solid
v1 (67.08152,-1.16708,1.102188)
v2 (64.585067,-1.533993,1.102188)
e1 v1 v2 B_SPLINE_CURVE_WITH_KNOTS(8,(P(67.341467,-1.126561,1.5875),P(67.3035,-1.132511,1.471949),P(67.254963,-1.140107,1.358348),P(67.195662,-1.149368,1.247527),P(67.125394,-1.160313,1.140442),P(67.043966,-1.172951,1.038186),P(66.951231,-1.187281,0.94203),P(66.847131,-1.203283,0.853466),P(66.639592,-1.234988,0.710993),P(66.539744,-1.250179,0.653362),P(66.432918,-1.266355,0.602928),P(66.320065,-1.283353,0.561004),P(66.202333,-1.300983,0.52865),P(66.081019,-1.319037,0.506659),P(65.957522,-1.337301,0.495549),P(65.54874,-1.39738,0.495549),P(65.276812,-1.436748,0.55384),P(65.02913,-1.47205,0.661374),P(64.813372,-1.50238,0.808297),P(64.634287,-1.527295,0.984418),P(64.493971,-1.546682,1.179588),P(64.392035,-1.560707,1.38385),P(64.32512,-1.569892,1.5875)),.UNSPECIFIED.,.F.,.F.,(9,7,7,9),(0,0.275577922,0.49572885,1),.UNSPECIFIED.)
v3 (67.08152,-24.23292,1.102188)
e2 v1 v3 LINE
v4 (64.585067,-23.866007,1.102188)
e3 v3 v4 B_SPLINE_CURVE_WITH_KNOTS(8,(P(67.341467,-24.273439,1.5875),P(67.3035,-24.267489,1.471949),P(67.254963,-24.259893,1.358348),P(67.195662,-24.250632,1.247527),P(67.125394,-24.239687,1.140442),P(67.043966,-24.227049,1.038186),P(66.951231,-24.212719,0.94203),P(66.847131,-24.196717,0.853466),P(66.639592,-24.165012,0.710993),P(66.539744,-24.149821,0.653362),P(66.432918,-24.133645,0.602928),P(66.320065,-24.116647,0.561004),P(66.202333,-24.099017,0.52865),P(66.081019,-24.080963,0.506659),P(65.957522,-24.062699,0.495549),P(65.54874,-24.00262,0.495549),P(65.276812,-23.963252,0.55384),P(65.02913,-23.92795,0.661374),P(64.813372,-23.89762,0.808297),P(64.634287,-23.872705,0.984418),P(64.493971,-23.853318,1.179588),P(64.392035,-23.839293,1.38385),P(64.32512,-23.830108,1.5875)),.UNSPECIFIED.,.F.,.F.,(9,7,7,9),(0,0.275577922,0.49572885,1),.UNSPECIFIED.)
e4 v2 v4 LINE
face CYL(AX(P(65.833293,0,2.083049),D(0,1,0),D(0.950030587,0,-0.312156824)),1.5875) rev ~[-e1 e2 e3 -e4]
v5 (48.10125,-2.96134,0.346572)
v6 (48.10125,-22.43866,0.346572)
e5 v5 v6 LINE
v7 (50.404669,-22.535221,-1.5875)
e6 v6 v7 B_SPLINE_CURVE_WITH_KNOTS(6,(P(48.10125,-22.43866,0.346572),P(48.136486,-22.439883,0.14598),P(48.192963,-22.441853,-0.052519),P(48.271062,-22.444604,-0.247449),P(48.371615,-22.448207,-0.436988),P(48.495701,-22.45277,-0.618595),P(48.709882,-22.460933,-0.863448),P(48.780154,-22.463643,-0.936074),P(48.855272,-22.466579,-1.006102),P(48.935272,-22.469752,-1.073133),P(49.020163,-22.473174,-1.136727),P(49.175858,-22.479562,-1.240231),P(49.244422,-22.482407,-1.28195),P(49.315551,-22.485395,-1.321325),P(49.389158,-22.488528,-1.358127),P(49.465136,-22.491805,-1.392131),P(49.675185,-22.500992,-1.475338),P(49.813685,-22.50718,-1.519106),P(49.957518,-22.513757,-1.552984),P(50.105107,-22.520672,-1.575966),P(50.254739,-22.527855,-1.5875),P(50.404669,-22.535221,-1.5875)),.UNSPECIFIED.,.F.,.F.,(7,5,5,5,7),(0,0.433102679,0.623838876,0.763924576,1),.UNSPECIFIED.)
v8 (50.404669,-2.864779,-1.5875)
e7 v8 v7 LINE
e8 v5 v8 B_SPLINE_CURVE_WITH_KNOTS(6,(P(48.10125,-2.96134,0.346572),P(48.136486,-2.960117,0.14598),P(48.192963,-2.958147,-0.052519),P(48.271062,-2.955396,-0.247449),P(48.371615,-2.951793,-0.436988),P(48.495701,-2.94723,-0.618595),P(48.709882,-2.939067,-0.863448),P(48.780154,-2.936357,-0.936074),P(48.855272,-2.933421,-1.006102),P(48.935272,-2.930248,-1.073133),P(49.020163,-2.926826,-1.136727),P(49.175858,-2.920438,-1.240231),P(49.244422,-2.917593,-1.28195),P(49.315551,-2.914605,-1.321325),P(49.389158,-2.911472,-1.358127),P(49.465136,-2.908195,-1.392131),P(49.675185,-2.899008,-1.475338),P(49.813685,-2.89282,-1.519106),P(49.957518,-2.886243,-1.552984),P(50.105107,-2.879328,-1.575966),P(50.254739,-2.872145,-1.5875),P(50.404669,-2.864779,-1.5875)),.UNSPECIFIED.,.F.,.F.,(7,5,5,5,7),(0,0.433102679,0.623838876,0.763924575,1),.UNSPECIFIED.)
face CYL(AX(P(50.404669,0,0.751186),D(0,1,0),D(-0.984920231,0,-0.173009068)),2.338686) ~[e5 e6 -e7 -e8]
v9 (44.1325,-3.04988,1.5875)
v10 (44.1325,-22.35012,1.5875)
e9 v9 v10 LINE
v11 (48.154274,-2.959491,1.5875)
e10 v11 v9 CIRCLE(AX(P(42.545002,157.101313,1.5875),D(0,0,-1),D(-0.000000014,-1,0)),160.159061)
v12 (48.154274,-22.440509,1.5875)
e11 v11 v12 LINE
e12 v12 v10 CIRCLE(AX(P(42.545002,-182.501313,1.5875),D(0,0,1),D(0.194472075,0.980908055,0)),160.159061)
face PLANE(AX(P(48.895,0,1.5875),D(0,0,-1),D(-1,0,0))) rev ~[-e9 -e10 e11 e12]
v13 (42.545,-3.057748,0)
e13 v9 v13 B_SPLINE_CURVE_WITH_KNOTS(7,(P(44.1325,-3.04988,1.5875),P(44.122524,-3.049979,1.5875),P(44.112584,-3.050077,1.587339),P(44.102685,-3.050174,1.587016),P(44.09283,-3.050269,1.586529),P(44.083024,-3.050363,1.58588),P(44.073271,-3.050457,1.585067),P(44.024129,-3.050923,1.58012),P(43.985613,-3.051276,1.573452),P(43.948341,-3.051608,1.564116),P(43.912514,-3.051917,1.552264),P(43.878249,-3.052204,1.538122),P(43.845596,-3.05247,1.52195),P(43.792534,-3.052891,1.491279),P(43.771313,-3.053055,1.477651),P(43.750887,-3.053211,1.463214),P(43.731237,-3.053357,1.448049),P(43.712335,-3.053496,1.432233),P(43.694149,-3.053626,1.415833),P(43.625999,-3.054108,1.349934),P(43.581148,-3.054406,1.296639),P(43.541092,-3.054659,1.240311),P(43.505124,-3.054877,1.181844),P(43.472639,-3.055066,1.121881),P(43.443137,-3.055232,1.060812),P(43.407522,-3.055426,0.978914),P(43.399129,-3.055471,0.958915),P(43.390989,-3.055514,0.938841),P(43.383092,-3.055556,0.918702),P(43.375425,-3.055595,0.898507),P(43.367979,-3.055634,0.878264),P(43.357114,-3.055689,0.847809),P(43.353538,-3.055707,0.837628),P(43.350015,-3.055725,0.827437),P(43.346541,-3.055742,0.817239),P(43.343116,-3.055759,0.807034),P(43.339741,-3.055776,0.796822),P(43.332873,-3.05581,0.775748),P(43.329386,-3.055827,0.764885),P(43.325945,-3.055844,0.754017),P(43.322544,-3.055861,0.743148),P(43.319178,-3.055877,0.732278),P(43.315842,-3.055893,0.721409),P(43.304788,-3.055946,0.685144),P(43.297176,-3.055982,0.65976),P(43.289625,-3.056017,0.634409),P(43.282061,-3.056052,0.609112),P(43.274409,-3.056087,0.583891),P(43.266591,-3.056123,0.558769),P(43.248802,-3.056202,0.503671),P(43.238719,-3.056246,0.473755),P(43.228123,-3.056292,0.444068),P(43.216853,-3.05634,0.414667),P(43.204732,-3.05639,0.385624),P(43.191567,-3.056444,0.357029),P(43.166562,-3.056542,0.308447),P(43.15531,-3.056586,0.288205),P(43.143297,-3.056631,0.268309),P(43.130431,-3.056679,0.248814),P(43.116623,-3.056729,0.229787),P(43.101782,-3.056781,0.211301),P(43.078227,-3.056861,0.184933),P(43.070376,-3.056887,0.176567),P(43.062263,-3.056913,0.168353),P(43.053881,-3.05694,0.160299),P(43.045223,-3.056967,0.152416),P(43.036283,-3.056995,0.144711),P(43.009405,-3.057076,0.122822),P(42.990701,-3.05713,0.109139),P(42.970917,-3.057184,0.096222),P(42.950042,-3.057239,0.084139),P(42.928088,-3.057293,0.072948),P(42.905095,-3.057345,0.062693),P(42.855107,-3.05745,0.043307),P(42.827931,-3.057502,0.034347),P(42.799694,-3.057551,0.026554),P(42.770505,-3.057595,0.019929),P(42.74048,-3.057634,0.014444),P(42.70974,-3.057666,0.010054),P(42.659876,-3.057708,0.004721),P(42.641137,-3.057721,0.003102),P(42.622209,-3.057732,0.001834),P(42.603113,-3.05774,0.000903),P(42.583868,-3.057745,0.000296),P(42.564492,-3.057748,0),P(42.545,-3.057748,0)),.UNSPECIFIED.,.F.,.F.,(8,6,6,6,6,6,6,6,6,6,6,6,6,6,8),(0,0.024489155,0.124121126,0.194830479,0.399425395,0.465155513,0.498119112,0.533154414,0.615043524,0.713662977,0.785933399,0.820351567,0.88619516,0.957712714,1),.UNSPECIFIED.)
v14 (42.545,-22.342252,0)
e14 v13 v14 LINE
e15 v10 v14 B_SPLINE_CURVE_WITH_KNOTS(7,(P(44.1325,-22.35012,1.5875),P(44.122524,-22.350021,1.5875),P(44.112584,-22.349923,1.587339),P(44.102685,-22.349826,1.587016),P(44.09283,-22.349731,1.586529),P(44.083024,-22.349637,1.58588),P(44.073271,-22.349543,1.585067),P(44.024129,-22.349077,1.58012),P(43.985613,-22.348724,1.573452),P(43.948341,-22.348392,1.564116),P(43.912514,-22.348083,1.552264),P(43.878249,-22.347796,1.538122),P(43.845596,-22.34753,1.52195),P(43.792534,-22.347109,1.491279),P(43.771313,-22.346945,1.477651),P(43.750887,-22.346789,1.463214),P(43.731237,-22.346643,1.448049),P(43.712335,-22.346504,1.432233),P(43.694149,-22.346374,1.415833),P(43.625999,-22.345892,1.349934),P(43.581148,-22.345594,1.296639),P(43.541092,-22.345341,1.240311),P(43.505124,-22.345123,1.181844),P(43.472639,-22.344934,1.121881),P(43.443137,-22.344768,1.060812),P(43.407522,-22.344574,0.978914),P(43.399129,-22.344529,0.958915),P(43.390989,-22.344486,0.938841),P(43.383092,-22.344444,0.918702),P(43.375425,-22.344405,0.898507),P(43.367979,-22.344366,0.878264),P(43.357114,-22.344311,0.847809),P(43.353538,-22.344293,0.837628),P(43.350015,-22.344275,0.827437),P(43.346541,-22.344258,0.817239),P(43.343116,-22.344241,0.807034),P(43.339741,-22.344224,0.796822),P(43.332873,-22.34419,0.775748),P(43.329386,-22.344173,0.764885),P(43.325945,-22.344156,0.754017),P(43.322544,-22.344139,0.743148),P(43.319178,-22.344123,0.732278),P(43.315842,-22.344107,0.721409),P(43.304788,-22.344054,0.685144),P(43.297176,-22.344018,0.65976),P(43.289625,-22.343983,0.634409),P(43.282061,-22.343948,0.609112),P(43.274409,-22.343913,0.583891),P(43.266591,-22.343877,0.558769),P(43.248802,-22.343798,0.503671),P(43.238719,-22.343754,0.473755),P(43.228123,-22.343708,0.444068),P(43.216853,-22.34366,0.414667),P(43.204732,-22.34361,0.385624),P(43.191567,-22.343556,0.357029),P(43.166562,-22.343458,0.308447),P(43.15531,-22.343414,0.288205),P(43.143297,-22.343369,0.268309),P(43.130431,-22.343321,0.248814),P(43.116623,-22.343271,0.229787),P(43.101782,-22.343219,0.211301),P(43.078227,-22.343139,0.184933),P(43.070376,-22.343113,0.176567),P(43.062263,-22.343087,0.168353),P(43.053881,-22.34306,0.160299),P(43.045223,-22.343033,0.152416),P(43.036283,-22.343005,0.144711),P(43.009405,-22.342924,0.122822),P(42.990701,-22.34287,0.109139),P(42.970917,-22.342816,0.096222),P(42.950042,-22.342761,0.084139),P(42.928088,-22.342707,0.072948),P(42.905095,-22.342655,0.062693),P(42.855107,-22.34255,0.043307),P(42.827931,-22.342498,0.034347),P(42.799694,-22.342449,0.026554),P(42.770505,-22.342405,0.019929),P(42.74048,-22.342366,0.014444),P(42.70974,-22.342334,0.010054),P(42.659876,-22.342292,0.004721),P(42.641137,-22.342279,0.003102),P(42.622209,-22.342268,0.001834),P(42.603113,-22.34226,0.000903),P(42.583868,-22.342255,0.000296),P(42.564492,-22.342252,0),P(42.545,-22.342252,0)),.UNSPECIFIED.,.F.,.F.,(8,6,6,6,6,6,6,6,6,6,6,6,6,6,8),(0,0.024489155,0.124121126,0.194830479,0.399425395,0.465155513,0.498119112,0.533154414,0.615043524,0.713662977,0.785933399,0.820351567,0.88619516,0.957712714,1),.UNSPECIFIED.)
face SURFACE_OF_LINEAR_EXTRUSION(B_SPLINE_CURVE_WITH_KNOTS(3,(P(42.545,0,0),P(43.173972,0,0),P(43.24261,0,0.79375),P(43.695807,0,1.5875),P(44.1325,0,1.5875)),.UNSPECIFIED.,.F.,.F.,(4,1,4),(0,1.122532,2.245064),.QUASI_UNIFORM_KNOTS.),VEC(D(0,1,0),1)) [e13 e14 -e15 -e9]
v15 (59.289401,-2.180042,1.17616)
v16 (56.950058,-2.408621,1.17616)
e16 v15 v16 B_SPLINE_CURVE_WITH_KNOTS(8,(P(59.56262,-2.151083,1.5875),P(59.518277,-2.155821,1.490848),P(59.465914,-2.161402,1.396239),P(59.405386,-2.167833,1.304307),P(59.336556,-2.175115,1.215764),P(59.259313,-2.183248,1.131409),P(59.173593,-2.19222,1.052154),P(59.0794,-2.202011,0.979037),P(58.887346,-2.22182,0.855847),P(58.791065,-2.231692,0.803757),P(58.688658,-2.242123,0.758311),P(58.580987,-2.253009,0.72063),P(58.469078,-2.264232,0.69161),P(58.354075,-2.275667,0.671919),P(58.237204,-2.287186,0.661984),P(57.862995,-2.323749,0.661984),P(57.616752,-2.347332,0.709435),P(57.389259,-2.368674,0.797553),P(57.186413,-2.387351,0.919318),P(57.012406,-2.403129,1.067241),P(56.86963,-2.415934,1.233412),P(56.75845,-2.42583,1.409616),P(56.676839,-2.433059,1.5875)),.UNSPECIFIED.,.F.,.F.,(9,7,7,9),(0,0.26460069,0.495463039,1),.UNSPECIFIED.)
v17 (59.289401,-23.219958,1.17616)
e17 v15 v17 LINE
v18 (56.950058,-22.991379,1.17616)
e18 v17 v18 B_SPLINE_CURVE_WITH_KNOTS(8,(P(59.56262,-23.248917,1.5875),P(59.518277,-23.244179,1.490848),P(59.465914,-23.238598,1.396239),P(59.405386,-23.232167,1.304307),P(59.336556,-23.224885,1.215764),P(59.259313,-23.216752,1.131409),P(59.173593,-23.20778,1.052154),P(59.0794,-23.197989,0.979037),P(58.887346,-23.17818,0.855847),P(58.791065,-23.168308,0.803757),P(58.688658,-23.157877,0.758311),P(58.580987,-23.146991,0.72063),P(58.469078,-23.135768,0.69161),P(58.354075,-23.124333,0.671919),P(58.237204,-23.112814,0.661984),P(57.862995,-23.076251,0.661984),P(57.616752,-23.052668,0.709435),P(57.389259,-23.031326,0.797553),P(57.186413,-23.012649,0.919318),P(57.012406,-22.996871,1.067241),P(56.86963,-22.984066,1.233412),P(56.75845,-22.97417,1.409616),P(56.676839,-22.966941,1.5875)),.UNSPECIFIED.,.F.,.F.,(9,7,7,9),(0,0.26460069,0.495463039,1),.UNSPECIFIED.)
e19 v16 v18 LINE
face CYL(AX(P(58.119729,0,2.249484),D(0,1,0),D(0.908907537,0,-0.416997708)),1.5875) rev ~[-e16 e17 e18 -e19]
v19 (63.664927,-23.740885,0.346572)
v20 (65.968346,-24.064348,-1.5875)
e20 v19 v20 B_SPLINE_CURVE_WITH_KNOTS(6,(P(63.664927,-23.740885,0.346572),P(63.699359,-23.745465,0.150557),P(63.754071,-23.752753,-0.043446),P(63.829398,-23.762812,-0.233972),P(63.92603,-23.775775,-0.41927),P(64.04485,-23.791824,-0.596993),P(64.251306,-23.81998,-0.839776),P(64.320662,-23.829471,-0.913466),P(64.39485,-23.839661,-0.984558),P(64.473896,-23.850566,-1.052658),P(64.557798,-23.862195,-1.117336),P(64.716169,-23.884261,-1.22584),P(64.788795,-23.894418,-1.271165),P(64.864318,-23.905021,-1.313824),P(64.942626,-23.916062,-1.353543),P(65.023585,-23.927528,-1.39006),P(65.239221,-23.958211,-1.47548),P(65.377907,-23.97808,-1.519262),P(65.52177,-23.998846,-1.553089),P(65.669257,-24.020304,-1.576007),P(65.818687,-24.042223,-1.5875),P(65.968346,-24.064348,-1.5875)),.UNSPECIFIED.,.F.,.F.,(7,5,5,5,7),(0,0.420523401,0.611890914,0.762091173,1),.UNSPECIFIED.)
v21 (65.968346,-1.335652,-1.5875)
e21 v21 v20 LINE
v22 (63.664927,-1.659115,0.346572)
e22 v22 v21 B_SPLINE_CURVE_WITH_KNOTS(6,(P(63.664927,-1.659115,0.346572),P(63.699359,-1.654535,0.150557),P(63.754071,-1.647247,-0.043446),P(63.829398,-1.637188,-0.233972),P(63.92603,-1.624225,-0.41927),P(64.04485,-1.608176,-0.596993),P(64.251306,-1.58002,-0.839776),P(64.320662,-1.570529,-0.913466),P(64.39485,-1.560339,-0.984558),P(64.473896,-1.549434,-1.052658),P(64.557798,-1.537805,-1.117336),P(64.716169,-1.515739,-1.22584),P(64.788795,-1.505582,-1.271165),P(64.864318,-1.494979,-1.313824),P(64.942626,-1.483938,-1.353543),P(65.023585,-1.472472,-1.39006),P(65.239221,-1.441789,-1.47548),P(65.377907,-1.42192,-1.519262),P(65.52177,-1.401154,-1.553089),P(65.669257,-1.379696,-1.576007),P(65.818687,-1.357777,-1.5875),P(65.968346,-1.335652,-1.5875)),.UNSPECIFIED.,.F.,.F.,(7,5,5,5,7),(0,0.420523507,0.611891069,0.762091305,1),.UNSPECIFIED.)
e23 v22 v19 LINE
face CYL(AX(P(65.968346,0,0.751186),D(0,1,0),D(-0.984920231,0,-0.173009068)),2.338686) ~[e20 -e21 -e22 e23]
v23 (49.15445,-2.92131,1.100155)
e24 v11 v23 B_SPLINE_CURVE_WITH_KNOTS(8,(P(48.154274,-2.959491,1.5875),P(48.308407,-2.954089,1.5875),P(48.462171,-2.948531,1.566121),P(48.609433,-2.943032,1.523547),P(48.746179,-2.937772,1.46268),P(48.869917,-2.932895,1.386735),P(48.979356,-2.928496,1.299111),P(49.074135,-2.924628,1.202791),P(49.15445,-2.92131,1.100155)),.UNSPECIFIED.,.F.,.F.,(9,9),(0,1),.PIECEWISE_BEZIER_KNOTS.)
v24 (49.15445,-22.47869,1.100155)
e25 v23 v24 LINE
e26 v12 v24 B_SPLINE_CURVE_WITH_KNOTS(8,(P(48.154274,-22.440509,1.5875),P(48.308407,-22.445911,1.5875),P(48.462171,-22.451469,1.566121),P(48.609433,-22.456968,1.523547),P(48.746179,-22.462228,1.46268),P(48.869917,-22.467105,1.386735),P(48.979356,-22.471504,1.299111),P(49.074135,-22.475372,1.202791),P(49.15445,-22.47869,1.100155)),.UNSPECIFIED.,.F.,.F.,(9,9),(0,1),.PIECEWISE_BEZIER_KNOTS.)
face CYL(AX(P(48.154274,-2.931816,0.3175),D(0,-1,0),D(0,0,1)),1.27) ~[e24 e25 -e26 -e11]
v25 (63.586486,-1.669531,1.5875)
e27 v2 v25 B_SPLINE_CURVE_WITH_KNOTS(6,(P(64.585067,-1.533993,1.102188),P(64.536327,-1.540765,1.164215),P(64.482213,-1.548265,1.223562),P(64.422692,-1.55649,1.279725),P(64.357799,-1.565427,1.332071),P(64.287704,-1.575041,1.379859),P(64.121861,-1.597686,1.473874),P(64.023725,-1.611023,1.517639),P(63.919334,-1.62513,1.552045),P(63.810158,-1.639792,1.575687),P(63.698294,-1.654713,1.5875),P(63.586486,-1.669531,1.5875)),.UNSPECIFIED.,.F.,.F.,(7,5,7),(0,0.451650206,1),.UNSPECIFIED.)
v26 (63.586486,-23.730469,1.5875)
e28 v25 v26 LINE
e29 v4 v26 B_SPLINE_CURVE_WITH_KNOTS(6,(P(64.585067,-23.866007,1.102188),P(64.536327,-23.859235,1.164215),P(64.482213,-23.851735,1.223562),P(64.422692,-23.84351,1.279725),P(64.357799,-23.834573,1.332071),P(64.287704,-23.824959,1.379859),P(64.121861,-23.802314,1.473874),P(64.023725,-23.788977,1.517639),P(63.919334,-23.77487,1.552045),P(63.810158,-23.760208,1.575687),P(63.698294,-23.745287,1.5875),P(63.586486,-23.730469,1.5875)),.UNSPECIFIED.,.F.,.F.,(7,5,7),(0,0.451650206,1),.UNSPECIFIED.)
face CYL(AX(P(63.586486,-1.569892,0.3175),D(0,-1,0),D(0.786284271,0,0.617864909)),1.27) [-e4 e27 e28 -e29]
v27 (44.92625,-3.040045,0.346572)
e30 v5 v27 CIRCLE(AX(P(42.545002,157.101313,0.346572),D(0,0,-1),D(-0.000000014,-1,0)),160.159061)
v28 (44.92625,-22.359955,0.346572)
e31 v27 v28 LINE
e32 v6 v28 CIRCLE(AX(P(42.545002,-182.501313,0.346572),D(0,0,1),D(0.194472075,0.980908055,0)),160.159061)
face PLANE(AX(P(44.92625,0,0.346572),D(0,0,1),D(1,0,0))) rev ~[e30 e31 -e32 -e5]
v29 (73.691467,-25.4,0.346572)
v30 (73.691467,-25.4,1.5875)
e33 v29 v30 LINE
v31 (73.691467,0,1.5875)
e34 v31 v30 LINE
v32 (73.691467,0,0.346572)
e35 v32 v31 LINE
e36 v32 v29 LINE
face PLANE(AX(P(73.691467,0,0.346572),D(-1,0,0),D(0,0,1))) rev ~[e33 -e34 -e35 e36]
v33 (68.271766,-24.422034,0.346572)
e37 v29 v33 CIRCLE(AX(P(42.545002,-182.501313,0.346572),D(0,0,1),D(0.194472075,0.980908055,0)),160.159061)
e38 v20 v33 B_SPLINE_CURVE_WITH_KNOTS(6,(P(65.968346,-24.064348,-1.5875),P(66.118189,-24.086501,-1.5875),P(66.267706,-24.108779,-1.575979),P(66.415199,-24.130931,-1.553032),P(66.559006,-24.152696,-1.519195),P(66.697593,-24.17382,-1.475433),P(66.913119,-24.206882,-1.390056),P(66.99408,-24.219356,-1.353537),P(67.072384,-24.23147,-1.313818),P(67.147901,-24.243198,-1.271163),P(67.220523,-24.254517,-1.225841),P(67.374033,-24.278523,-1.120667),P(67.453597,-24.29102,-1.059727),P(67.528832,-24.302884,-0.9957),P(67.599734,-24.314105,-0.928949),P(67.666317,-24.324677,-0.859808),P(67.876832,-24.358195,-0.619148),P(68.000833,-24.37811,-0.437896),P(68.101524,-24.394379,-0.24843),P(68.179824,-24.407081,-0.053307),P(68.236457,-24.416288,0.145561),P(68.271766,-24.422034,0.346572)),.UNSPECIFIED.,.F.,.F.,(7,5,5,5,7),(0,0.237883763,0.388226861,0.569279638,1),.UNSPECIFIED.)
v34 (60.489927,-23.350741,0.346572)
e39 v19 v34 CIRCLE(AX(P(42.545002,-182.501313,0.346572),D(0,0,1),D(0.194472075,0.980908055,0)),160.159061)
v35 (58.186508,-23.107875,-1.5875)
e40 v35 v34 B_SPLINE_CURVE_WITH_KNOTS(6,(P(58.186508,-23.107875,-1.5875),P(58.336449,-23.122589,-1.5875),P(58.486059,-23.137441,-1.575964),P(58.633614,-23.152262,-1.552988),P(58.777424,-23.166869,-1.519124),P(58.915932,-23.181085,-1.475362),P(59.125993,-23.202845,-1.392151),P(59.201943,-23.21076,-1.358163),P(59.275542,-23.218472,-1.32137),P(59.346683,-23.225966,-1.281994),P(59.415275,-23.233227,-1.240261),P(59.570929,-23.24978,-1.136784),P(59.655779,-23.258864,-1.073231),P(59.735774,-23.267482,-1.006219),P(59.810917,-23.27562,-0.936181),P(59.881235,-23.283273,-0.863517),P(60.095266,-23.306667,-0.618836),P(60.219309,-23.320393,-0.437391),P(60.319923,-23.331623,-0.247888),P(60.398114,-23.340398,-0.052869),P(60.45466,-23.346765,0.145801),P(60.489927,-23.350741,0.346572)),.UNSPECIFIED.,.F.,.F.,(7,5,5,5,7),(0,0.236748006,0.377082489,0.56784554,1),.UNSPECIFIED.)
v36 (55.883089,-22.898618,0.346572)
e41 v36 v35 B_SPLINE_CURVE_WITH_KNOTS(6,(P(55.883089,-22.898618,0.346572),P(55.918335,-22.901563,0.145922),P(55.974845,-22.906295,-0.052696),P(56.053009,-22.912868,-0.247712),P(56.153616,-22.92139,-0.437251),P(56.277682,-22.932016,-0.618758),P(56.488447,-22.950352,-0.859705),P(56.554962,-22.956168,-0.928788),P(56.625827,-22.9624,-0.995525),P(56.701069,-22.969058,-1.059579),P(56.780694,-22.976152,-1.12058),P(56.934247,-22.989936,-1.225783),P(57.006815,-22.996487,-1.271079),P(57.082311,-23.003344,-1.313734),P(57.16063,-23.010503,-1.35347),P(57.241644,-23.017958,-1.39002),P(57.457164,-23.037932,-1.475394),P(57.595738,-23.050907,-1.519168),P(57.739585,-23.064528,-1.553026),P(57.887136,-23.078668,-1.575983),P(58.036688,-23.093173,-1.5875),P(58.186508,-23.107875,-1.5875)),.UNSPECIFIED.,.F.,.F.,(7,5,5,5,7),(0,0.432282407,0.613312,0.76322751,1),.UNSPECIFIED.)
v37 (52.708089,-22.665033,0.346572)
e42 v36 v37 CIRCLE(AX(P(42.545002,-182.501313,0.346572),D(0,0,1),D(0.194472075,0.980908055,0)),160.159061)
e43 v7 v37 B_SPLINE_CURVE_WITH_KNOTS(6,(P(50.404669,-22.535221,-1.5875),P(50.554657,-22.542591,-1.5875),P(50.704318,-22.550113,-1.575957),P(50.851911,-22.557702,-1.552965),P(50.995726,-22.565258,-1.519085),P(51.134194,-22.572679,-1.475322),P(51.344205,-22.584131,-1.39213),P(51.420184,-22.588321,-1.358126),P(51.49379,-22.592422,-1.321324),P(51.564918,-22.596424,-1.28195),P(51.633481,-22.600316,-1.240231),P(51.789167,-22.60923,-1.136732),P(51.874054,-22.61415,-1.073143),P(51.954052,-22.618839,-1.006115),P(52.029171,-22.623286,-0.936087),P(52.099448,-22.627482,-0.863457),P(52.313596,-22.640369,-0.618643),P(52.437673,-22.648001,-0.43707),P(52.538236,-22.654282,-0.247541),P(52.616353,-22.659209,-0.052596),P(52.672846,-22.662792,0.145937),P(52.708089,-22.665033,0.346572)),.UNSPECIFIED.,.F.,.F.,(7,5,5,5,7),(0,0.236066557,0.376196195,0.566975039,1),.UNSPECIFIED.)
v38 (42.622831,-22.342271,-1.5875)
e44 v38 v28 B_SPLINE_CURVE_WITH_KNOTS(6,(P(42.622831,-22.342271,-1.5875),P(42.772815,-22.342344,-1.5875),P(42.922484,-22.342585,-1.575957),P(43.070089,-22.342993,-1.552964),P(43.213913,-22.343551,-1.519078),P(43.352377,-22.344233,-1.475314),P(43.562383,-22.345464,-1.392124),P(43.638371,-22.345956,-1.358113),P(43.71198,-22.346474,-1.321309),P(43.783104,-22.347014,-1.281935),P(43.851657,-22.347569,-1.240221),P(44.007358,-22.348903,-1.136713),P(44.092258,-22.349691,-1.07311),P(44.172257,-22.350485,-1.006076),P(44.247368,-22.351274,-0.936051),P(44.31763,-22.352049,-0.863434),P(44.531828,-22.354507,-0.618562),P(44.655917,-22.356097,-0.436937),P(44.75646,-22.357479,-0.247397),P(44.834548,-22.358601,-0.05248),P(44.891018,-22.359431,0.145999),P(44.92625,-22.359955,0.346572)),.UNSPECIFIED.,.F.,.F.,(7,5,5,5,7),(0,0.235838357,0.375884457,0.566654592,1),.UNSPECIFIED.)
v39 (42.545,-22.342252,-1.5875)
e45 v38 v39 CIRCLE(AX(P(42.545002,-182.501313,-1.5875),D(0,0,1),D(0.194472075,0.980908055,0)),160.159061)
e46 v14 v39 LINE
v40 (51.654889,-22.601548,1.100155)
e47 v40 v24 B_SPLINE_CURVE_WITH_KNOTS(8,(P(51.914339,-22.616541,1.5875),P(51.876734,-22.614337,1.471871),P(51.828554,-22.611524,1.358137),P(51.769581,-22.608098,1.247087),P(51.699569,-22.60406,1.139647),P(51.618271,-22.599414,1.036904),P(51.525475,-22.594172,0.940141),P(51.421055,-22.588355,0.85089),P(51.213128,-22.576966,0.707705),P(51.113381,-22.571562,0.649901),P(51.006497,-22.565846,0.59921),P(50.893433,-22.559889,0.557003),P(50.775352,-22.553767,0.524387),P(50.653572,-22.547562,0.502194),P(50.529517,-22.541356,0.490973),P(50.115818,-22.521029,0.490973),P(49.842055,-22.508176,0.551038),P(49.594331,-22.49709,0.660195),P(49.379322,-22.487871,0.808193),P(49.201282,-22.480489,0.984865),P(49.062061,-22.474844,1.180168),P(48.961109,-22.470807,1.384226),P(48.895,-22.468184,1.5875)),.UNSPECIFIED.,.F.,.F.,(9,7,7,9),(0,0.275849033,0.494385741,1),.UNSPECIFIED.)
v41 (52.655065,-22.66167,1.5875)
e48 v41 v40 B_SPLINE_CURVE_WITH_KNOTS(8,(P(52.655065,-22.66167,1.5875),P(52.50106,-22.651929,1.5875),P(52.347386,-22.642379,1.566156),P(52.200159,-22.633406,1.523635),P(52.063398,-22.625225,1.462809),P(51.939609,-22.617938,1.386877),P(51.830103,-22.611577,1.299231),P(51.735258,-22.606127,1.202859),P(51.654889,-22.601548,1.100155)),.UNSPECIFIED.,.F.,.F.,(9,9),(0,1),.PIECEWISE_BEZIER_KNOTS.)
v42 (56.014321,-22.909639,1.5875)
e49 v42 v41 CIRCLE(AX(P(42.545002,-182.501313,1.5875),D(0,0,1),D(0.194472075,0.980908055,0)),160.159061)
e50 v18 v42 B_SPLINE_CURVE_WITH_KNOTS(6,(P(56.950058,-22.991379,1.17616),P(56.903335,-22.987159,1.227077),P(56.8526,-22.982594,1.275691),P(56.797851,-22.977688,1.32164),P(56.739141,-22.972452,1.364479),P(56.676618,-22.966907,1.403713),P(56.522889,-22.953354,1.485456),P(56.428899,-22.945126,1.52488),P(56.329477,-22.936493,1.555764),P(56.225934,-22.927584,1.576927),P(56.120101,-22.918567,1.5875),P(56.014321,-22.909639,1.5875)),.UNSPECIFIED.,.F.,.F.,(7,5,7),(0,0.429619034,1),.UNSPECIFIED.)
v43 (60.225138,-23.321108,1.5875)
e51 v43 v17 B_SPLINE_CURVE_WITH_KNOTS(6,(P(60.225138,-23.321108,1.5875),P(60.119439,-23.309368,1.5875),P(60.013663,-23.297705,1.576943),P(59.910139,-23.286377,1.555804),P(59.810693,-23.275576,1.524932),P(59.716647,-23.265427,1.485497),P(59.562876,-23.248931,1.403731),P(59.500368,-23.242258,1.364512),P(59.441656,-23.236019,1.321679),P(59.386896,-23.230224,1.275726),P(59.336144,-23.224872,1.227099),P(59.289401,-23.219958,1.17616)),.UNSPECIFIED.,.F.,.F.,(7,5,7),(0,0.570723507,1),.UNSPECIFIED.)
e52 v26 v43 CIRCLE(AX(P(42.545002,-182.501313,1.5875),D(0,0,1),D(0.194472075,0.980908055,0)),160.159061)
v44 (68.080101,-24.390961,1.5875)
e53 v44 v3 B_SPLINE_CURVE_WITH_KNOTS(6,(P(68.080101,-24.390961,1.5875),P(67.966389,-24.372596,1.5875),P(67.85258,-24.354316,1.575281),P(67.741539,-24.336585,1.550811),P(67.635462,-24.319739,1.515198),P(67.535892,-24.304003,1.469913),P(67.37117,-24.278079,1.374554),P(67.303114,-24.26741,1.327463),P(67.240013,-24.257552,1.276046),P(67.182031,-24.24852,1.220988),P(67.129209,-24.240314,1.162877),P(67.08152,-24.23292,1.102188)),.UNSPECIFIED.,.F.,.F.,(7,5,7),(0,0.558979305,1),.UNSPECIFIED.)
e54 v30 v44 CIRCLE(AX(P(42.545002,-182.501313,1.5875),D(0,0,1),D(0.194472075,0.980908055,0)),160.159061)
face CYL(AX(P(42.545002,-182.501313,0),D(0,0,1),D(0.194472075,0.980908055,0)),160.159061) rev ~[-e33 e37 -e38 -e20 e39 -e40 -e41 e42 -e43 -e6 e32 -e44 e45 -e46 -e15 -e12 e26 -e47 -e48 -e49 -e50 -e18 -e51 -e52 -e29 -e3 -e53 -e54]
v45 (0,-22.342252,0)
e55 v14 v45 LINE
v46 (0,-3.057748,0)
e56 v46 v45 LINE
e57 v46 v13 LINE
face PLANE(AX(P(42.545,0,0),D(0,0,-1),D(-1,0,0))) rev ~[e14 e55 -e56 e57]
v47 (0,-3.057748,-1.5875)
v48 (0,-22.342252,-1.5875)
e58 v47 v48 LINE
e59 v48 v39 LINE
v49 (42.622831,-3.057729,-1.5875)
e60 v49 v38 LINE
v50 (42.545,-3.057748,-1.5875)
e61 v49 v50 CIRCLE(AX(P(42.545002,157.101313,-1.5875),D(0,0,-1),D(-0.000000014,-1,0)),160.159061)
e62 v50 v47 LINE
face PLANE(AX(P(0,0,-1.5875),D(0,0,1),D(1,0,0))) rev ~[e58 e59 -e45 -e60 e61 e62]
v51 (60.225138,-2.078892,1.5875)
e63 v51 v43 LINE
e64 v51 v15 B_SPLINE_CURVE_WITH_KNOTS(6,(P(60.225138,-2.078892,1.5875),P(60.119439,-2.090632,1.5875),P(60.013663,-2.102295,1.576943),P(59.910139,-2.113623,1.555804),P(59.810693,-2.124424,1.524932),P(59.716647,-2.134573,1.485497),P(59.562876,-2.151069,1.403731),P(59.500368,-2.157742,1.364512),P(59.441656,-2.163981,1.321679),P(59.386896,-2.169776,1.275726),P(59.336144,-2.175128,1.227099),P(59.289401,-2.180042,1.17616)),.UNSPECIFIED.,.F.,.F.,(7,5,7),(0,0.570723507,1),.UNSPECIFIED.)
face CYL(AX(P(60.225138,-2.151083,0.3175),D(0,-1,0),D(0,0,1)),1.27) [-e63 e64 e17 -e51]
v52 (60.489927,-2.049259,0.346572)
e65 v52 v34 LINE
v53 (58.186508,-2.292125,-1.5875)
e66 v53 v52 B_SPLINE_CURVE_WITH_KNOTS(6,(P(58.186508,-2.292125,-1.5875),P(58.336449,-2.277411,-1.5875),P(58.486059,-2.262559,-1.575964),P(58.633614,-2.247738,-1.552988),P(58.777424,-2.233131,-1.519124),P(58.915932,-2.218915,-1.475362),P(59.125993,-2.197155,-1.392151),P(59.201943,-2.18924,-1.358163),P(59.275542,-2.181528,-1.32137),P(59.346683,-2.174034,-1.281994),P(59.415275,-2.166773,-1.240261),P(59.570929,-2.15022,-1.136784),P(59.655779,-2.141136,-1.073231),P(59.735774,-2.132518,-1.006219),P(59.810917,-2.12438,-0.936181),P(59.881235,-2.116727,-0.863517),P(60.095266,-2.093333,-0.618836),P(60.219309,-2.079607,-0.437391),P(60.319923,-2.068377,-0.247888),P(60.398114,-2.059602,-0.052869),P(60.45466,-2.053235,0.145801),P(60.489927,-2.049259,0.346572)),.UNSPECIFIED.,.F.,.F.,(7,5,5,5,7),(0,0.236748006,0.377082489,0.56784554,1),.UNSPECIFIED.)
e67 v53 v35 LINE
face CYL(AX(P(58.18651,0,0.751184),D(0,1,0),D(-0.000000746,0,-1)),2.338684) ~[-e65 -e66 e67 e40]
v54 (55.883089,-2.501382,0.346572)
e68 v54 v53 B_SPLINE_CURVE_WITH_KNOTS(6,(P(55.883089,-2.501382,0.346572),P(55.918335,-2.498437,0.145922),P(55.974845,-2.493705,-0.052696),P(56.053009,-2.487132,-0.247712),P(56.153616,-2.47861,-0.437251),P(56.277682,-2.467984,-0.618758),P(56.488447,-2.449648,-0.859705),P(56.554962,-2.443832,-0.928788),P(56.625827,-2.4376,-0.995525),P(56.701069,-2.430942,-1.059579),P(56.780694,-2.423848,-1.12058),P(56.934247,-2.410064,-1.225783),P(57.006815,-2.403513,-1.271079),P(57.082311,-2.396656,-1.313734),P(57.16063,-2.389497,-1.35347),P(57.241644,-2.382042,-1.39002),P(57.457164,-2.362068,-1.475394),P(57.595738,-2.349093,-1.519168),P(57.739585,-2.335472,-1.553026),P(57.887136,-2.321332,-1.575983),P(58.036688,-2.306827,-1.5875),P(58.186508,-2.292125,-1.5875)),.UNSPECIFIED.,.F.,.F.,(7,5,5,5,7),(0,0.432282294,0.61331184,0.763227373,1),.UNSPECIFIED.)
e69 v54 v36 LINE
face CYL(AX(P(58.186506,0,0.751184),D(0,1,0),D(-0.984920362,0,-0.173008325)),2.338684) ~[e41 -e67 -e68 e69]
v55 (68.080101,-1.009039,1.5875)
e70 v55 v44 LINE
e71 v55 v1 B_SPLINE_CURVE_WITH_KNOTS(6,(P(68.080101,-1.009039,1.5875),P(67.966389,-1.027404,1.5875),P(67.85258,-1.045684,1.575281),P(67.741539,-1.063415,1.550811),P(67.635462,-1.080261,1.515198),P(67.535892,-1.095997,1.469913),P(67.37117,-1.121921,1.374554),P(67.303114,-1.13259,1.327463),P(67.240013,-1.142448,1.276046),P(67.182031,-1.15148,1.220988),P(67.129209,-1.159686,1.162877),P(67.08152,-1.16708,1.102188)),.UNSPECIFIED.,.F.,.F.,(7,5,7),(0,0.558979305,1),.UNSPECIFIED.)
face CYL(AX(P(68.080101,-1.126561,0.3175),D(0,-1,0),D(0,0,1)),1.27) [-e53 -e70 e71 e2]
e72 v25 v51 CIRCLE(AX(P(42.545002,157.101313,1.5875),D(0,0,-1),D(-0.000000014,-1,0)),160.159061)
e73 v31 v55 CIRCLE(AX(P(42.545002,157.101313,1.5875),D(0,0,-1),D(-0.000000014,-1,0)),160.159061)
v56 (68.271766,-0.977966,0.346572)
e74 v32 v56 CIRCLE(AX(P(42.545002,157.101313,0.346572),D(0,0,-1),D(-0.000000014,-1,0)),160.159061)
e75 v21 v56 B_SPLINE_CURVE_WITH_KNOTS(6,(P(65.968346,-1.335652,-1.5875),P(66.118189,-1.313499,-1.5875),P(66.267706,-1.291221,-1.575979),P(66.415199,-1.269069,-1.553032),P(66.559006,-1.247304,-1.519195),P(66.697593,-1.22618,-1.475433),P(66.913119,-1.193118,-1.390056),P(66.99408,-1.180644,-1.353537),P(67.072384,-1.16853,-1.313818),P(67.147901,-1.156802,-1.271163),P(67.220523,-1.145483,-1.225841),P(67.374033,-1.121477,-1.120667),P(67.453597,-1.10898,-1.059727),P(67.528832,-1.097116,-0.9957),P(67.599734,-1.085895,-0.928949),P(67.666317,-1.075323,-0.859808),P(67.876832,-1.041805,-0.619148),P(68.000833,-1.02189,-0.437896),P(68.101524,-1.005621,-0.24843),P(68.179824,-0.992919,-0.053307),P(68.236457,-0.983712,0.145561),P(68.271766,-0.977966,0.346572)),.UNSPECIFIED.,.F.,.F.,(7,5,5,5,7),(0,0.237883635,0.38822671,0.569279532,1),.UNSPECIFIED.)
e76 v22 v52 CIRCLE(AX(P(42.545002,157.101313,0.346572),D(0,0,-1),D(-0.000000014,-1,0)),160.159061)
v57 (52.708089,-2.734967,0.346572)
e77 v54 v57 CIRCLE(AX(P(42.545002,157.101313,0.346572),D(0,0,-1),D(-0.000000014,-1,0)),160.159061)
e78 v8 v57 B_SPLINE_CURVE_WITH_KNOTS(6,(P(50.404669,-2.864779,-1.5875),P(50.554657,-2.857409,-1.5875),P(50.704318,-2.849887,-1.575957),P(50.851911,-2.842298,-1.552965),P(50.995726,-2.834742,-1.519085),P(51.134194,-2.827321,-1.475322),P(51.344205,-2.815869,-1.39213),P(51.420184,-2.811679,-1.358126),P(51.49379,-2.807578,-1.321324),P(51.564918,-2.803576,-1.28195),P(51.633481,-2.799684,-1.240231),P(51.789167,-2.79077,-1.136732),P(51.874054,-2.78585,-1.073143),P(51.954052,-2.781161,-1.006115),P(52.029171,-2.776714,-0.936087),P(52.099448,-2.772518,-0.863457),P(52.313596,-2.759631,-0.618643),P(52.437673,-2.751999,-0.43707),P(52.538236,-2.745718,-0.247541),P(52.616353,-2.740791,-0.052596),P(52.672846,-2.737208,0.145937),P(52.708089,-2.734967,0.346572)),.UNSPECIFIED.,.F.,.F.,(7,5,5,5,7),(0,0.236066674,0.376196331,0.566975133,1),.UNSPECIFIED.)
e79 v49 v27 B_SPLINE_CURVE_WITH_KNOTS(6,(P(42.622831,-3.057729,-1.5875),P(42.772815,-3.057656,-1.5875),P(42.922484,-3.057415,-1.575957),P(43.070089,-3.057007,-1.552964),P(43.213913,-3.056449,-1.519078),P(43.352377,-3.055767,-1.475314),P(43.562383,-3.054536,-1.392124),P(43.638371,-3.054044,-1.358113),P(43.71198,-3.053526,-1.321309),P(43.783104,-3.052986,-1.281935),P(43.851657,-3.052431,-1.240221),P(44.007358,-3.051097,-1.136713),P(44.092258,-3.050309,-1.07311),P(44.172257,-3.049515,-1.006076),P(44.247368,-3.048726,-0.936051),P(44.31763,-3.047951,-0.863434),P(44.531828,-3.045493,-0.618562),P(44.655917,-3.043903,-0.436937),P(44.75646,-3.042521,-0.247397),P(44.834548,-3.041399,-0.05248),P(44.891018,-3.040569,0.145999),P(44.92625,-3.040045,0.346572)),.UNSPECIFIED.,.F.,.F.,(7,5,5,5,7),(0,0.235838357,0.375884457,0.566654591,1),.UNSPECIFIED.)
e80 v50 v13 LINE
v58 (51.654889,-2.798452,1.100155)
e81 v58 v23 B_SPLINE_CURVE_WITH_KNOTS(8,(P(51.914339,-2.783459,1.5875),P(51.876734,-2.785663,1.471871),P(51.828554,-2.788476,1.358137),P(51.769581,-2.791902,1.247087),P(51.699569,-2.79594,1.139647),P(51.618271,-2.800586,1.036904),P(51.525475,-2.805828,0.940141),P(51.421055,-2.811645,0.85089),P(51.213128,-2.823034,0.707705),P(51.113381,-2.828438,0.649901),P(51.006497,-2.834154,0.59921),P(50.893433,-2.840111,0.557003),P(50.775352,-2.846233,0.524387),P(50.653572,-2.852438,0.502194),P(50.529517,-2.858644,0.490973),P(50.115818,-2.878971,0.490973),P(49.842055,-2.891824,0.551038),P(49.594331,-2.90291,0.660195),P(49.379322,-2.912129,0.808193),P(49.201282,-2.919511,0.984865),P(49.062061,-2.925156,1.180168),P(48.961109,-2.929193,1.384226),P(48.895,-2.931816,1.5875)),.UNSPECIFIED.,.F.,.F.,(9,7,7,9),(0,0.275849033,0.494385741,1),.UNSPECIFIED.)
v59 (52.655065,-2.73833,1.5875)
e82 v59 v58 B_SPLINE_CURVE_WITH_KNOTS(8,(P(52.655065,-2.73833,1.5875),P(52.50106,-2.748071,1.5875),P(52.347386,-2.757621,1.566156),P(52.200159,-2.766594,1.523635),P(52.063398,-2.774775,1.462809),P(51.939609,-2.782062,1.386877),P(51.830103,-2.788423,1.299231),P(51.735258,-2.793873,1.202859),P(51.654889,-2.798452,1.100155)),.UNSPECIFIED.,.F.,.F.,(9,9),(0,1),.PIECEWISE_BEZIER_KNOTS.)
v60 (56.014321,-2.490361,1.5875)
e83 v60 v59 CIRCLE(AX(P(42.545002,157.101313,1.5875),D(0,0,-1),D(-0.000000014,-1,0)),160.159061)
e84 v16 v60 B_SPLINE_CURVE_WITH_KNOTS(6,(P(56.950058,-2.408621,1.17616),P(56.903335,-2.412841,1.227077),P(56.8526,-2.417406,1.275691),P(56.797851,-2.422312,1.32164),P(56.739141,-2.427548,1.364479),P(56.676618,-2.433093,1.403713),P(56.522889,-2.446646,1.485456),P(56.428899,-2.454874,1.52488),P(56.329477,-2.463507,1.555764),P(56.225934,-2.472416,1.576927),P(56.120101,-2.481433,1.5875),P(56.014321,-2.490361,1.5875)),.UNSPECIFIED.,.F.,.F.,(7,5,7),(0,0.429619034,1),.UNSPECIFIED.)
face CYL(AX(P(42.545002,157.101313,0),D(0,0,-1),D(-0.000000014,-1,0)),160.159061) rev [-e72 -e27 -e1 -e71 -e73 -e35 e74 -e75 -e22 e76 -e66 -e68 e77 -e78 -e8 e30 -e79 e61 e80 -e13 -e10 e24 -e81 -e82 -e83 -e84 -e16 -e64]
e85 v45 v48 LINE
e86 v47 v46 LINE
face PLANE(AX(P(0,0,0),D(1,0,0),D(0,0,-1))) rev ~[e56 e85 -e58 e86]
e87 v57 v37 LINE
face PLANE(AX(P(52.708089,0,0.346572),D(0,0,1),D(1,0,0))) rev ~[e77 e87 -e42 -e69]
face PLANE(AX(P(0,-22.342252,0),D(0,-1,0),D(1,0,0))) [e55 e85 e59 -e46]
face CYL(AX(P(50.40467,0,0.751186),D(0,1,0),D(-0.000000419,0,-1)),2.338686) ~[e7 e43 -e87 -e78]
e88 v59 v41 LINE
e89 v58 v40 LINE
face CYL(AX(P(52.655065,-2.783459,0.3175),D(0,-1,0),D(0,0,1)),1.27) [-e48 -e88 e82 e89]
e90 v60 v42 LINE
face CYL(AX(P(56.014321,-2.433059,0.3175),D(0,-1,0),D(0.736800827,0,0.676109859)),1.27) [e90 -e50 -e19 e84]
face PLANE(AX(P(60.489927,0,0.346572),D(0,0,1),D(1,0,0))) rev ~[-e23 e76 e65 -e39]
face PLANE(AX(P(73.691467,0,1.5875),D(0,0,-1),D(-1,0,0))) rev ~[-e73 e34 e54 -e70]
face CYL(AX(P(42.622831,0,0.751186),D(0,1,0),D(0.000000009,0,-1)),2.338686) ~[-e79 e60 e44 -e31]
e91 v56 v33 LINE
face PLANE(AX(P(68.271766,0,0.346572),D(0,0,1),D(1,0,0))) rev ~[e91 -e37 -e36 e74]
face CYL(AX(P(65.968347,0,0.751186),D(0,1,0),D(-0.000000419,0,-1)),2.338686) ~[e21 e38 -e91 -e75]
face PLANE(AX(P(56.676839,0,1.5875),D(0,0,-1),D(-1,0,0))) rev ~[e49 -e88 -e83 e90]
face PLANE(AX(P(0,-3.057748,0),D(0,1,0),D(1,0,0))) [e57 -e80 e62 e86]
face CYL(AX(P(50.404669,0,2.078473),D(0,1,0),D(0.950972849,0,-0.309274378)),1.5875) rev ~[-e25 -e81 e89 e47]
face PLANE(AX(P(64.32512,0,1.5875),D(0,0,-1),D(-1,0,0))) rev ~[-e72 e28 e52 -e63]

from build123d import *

# Parameters (mm, degrees)
F1_DEPTH = 25.4
F2_W     = 42.545
F2_H     = 3.057748
F3_DEPTH = 12.7
F4_R     = 1.27


with BuildPart() as f1:
    # F0 (on Front) → F1 (new body)
    with BuildSketch(Plane.XZ):
        with BuildLine():
            Line((42.545, 0), (0, 0))
            Line((0, 0), (0, -1.5875))
            Line((0, -1.5875), (42.622831, -1.5875))
            ThreePointArc((42.622831, -1.5875), (44.12669, -1.039864), (44.92625, 0.346572))
            Line((44.92625, 0.346572), (48.10125, 0.346572))
            ThreePointArc((48.10125, 0.346572), (48.90081, -1.039864), (50.404669, -1.5875))
            ThreePointArc((50.404669, -1.5875), (51.908529, -1.039864), (52.708089, 0.346572))
            Line((52.708089, 0.346572), (55.883089, 0.346572))
            ThreePointArc((55.883089, 0.346572), (56.682648, -1.039864), (58.186508, -1.5875))
            ThreePointArc((58.186508, -1.5875), (59.690368, -1.039864), (60.489927, 0.346572))
            Line((60.489927, 0.346572), (63.664927, 0.346572))
            ThreePointArc((63.664927, 0.346572), (64.464487, -1.039864), (65.968346, -1.5875))
            ThreePointArc((65.968346, -1.5875), (67.472206, -1.039864), (68.271766, 0.346572))
            Line((68.271766, 0.346572), (73.691467, 0.346572))
            Line((73.691467, 0.346572), (73.691467, 1.5875))
            Line((73.691467, 1.5875), (67.341467, 1.5875))
            ThreePointArc((67.341467, 1.5875), (65.833294, 0.495549), (64.32512, 1.5875))
            Line((64.32512, 1.5875), (59.56262, 1.5875))
            ThreePointArc((59.56262, 1.5875), (58.119729, 0.661984), (56.676839, 1.5875))
            Line((56.676839, 1.5875), (51.914339, 1.5875))
            ThreePointArc((51.914339, 1.5875), (50.404669, 0.490973), (48.895, 1.5875))
            Line((48.895, 1.5875), (44.1325, 1.5875))
            add(Edge.make_bspline(
                [(42.545, 0), (43.173972, 0), (43.24261, 0.79375), (43.695807, 1.5875), (44.1325, 1.5875)],
                knots=[0, 0, 0, 0, 1.122532, 2.245064, 2.245064, 2.245064, 2.245064], degree=3))
        make_face()
    extrude(amount=F1_DEPTH)

    # F2 (on face) → F3 (cut, symmetric)
    with BuildSketch(Plane.XY):
        with Locations((21.2725, -1.528874)):
            Rectangle(F2_W, F2_H)
        with BuildLine():
            Line((42.545, 0), (42.545, -3.057748))
            ThreePointArc((42.545, -3.057748), (58.193101, -2.291478), (73.691467, 0))
            Line((73.691467, 0), (42.545, 0))
        make_face()
        with Locations((21.2725, -23.871126)):
            Rectangle(F2_W, F2_H)
        with BuildLine():
            ThreePointArc((73.691467, -25.4), (58.193101, -23.108522), (42.545, -22.342252))
            Line((42.545, -22.342252), (42.545, -25.4))
            Line((42.545, -25.4), (73.691467, -25.4))
        make_face()
    extrude(amount=F3_DEPTH, both=True, mode=Mode.SUBTRACT)

    # F4
    f4_edges = [f1.edges().sort_by_distance(p)[0] for p in [
        (48.895, -12.7, 1.5875),
        (44.1325, -12.7, 1.5875),
        (51.914339, -12.7, 1.5875),
        (56.676839, -12.7, 1.5875),
        (59.56262, -12.7, 1.5875),
        (64.32512, -12.7, 1.5875),
        (67.341467, -12.7, 1.5875),
    ]]
    fillet(f4_edges, radius=F4_R)


solid = f1.part
